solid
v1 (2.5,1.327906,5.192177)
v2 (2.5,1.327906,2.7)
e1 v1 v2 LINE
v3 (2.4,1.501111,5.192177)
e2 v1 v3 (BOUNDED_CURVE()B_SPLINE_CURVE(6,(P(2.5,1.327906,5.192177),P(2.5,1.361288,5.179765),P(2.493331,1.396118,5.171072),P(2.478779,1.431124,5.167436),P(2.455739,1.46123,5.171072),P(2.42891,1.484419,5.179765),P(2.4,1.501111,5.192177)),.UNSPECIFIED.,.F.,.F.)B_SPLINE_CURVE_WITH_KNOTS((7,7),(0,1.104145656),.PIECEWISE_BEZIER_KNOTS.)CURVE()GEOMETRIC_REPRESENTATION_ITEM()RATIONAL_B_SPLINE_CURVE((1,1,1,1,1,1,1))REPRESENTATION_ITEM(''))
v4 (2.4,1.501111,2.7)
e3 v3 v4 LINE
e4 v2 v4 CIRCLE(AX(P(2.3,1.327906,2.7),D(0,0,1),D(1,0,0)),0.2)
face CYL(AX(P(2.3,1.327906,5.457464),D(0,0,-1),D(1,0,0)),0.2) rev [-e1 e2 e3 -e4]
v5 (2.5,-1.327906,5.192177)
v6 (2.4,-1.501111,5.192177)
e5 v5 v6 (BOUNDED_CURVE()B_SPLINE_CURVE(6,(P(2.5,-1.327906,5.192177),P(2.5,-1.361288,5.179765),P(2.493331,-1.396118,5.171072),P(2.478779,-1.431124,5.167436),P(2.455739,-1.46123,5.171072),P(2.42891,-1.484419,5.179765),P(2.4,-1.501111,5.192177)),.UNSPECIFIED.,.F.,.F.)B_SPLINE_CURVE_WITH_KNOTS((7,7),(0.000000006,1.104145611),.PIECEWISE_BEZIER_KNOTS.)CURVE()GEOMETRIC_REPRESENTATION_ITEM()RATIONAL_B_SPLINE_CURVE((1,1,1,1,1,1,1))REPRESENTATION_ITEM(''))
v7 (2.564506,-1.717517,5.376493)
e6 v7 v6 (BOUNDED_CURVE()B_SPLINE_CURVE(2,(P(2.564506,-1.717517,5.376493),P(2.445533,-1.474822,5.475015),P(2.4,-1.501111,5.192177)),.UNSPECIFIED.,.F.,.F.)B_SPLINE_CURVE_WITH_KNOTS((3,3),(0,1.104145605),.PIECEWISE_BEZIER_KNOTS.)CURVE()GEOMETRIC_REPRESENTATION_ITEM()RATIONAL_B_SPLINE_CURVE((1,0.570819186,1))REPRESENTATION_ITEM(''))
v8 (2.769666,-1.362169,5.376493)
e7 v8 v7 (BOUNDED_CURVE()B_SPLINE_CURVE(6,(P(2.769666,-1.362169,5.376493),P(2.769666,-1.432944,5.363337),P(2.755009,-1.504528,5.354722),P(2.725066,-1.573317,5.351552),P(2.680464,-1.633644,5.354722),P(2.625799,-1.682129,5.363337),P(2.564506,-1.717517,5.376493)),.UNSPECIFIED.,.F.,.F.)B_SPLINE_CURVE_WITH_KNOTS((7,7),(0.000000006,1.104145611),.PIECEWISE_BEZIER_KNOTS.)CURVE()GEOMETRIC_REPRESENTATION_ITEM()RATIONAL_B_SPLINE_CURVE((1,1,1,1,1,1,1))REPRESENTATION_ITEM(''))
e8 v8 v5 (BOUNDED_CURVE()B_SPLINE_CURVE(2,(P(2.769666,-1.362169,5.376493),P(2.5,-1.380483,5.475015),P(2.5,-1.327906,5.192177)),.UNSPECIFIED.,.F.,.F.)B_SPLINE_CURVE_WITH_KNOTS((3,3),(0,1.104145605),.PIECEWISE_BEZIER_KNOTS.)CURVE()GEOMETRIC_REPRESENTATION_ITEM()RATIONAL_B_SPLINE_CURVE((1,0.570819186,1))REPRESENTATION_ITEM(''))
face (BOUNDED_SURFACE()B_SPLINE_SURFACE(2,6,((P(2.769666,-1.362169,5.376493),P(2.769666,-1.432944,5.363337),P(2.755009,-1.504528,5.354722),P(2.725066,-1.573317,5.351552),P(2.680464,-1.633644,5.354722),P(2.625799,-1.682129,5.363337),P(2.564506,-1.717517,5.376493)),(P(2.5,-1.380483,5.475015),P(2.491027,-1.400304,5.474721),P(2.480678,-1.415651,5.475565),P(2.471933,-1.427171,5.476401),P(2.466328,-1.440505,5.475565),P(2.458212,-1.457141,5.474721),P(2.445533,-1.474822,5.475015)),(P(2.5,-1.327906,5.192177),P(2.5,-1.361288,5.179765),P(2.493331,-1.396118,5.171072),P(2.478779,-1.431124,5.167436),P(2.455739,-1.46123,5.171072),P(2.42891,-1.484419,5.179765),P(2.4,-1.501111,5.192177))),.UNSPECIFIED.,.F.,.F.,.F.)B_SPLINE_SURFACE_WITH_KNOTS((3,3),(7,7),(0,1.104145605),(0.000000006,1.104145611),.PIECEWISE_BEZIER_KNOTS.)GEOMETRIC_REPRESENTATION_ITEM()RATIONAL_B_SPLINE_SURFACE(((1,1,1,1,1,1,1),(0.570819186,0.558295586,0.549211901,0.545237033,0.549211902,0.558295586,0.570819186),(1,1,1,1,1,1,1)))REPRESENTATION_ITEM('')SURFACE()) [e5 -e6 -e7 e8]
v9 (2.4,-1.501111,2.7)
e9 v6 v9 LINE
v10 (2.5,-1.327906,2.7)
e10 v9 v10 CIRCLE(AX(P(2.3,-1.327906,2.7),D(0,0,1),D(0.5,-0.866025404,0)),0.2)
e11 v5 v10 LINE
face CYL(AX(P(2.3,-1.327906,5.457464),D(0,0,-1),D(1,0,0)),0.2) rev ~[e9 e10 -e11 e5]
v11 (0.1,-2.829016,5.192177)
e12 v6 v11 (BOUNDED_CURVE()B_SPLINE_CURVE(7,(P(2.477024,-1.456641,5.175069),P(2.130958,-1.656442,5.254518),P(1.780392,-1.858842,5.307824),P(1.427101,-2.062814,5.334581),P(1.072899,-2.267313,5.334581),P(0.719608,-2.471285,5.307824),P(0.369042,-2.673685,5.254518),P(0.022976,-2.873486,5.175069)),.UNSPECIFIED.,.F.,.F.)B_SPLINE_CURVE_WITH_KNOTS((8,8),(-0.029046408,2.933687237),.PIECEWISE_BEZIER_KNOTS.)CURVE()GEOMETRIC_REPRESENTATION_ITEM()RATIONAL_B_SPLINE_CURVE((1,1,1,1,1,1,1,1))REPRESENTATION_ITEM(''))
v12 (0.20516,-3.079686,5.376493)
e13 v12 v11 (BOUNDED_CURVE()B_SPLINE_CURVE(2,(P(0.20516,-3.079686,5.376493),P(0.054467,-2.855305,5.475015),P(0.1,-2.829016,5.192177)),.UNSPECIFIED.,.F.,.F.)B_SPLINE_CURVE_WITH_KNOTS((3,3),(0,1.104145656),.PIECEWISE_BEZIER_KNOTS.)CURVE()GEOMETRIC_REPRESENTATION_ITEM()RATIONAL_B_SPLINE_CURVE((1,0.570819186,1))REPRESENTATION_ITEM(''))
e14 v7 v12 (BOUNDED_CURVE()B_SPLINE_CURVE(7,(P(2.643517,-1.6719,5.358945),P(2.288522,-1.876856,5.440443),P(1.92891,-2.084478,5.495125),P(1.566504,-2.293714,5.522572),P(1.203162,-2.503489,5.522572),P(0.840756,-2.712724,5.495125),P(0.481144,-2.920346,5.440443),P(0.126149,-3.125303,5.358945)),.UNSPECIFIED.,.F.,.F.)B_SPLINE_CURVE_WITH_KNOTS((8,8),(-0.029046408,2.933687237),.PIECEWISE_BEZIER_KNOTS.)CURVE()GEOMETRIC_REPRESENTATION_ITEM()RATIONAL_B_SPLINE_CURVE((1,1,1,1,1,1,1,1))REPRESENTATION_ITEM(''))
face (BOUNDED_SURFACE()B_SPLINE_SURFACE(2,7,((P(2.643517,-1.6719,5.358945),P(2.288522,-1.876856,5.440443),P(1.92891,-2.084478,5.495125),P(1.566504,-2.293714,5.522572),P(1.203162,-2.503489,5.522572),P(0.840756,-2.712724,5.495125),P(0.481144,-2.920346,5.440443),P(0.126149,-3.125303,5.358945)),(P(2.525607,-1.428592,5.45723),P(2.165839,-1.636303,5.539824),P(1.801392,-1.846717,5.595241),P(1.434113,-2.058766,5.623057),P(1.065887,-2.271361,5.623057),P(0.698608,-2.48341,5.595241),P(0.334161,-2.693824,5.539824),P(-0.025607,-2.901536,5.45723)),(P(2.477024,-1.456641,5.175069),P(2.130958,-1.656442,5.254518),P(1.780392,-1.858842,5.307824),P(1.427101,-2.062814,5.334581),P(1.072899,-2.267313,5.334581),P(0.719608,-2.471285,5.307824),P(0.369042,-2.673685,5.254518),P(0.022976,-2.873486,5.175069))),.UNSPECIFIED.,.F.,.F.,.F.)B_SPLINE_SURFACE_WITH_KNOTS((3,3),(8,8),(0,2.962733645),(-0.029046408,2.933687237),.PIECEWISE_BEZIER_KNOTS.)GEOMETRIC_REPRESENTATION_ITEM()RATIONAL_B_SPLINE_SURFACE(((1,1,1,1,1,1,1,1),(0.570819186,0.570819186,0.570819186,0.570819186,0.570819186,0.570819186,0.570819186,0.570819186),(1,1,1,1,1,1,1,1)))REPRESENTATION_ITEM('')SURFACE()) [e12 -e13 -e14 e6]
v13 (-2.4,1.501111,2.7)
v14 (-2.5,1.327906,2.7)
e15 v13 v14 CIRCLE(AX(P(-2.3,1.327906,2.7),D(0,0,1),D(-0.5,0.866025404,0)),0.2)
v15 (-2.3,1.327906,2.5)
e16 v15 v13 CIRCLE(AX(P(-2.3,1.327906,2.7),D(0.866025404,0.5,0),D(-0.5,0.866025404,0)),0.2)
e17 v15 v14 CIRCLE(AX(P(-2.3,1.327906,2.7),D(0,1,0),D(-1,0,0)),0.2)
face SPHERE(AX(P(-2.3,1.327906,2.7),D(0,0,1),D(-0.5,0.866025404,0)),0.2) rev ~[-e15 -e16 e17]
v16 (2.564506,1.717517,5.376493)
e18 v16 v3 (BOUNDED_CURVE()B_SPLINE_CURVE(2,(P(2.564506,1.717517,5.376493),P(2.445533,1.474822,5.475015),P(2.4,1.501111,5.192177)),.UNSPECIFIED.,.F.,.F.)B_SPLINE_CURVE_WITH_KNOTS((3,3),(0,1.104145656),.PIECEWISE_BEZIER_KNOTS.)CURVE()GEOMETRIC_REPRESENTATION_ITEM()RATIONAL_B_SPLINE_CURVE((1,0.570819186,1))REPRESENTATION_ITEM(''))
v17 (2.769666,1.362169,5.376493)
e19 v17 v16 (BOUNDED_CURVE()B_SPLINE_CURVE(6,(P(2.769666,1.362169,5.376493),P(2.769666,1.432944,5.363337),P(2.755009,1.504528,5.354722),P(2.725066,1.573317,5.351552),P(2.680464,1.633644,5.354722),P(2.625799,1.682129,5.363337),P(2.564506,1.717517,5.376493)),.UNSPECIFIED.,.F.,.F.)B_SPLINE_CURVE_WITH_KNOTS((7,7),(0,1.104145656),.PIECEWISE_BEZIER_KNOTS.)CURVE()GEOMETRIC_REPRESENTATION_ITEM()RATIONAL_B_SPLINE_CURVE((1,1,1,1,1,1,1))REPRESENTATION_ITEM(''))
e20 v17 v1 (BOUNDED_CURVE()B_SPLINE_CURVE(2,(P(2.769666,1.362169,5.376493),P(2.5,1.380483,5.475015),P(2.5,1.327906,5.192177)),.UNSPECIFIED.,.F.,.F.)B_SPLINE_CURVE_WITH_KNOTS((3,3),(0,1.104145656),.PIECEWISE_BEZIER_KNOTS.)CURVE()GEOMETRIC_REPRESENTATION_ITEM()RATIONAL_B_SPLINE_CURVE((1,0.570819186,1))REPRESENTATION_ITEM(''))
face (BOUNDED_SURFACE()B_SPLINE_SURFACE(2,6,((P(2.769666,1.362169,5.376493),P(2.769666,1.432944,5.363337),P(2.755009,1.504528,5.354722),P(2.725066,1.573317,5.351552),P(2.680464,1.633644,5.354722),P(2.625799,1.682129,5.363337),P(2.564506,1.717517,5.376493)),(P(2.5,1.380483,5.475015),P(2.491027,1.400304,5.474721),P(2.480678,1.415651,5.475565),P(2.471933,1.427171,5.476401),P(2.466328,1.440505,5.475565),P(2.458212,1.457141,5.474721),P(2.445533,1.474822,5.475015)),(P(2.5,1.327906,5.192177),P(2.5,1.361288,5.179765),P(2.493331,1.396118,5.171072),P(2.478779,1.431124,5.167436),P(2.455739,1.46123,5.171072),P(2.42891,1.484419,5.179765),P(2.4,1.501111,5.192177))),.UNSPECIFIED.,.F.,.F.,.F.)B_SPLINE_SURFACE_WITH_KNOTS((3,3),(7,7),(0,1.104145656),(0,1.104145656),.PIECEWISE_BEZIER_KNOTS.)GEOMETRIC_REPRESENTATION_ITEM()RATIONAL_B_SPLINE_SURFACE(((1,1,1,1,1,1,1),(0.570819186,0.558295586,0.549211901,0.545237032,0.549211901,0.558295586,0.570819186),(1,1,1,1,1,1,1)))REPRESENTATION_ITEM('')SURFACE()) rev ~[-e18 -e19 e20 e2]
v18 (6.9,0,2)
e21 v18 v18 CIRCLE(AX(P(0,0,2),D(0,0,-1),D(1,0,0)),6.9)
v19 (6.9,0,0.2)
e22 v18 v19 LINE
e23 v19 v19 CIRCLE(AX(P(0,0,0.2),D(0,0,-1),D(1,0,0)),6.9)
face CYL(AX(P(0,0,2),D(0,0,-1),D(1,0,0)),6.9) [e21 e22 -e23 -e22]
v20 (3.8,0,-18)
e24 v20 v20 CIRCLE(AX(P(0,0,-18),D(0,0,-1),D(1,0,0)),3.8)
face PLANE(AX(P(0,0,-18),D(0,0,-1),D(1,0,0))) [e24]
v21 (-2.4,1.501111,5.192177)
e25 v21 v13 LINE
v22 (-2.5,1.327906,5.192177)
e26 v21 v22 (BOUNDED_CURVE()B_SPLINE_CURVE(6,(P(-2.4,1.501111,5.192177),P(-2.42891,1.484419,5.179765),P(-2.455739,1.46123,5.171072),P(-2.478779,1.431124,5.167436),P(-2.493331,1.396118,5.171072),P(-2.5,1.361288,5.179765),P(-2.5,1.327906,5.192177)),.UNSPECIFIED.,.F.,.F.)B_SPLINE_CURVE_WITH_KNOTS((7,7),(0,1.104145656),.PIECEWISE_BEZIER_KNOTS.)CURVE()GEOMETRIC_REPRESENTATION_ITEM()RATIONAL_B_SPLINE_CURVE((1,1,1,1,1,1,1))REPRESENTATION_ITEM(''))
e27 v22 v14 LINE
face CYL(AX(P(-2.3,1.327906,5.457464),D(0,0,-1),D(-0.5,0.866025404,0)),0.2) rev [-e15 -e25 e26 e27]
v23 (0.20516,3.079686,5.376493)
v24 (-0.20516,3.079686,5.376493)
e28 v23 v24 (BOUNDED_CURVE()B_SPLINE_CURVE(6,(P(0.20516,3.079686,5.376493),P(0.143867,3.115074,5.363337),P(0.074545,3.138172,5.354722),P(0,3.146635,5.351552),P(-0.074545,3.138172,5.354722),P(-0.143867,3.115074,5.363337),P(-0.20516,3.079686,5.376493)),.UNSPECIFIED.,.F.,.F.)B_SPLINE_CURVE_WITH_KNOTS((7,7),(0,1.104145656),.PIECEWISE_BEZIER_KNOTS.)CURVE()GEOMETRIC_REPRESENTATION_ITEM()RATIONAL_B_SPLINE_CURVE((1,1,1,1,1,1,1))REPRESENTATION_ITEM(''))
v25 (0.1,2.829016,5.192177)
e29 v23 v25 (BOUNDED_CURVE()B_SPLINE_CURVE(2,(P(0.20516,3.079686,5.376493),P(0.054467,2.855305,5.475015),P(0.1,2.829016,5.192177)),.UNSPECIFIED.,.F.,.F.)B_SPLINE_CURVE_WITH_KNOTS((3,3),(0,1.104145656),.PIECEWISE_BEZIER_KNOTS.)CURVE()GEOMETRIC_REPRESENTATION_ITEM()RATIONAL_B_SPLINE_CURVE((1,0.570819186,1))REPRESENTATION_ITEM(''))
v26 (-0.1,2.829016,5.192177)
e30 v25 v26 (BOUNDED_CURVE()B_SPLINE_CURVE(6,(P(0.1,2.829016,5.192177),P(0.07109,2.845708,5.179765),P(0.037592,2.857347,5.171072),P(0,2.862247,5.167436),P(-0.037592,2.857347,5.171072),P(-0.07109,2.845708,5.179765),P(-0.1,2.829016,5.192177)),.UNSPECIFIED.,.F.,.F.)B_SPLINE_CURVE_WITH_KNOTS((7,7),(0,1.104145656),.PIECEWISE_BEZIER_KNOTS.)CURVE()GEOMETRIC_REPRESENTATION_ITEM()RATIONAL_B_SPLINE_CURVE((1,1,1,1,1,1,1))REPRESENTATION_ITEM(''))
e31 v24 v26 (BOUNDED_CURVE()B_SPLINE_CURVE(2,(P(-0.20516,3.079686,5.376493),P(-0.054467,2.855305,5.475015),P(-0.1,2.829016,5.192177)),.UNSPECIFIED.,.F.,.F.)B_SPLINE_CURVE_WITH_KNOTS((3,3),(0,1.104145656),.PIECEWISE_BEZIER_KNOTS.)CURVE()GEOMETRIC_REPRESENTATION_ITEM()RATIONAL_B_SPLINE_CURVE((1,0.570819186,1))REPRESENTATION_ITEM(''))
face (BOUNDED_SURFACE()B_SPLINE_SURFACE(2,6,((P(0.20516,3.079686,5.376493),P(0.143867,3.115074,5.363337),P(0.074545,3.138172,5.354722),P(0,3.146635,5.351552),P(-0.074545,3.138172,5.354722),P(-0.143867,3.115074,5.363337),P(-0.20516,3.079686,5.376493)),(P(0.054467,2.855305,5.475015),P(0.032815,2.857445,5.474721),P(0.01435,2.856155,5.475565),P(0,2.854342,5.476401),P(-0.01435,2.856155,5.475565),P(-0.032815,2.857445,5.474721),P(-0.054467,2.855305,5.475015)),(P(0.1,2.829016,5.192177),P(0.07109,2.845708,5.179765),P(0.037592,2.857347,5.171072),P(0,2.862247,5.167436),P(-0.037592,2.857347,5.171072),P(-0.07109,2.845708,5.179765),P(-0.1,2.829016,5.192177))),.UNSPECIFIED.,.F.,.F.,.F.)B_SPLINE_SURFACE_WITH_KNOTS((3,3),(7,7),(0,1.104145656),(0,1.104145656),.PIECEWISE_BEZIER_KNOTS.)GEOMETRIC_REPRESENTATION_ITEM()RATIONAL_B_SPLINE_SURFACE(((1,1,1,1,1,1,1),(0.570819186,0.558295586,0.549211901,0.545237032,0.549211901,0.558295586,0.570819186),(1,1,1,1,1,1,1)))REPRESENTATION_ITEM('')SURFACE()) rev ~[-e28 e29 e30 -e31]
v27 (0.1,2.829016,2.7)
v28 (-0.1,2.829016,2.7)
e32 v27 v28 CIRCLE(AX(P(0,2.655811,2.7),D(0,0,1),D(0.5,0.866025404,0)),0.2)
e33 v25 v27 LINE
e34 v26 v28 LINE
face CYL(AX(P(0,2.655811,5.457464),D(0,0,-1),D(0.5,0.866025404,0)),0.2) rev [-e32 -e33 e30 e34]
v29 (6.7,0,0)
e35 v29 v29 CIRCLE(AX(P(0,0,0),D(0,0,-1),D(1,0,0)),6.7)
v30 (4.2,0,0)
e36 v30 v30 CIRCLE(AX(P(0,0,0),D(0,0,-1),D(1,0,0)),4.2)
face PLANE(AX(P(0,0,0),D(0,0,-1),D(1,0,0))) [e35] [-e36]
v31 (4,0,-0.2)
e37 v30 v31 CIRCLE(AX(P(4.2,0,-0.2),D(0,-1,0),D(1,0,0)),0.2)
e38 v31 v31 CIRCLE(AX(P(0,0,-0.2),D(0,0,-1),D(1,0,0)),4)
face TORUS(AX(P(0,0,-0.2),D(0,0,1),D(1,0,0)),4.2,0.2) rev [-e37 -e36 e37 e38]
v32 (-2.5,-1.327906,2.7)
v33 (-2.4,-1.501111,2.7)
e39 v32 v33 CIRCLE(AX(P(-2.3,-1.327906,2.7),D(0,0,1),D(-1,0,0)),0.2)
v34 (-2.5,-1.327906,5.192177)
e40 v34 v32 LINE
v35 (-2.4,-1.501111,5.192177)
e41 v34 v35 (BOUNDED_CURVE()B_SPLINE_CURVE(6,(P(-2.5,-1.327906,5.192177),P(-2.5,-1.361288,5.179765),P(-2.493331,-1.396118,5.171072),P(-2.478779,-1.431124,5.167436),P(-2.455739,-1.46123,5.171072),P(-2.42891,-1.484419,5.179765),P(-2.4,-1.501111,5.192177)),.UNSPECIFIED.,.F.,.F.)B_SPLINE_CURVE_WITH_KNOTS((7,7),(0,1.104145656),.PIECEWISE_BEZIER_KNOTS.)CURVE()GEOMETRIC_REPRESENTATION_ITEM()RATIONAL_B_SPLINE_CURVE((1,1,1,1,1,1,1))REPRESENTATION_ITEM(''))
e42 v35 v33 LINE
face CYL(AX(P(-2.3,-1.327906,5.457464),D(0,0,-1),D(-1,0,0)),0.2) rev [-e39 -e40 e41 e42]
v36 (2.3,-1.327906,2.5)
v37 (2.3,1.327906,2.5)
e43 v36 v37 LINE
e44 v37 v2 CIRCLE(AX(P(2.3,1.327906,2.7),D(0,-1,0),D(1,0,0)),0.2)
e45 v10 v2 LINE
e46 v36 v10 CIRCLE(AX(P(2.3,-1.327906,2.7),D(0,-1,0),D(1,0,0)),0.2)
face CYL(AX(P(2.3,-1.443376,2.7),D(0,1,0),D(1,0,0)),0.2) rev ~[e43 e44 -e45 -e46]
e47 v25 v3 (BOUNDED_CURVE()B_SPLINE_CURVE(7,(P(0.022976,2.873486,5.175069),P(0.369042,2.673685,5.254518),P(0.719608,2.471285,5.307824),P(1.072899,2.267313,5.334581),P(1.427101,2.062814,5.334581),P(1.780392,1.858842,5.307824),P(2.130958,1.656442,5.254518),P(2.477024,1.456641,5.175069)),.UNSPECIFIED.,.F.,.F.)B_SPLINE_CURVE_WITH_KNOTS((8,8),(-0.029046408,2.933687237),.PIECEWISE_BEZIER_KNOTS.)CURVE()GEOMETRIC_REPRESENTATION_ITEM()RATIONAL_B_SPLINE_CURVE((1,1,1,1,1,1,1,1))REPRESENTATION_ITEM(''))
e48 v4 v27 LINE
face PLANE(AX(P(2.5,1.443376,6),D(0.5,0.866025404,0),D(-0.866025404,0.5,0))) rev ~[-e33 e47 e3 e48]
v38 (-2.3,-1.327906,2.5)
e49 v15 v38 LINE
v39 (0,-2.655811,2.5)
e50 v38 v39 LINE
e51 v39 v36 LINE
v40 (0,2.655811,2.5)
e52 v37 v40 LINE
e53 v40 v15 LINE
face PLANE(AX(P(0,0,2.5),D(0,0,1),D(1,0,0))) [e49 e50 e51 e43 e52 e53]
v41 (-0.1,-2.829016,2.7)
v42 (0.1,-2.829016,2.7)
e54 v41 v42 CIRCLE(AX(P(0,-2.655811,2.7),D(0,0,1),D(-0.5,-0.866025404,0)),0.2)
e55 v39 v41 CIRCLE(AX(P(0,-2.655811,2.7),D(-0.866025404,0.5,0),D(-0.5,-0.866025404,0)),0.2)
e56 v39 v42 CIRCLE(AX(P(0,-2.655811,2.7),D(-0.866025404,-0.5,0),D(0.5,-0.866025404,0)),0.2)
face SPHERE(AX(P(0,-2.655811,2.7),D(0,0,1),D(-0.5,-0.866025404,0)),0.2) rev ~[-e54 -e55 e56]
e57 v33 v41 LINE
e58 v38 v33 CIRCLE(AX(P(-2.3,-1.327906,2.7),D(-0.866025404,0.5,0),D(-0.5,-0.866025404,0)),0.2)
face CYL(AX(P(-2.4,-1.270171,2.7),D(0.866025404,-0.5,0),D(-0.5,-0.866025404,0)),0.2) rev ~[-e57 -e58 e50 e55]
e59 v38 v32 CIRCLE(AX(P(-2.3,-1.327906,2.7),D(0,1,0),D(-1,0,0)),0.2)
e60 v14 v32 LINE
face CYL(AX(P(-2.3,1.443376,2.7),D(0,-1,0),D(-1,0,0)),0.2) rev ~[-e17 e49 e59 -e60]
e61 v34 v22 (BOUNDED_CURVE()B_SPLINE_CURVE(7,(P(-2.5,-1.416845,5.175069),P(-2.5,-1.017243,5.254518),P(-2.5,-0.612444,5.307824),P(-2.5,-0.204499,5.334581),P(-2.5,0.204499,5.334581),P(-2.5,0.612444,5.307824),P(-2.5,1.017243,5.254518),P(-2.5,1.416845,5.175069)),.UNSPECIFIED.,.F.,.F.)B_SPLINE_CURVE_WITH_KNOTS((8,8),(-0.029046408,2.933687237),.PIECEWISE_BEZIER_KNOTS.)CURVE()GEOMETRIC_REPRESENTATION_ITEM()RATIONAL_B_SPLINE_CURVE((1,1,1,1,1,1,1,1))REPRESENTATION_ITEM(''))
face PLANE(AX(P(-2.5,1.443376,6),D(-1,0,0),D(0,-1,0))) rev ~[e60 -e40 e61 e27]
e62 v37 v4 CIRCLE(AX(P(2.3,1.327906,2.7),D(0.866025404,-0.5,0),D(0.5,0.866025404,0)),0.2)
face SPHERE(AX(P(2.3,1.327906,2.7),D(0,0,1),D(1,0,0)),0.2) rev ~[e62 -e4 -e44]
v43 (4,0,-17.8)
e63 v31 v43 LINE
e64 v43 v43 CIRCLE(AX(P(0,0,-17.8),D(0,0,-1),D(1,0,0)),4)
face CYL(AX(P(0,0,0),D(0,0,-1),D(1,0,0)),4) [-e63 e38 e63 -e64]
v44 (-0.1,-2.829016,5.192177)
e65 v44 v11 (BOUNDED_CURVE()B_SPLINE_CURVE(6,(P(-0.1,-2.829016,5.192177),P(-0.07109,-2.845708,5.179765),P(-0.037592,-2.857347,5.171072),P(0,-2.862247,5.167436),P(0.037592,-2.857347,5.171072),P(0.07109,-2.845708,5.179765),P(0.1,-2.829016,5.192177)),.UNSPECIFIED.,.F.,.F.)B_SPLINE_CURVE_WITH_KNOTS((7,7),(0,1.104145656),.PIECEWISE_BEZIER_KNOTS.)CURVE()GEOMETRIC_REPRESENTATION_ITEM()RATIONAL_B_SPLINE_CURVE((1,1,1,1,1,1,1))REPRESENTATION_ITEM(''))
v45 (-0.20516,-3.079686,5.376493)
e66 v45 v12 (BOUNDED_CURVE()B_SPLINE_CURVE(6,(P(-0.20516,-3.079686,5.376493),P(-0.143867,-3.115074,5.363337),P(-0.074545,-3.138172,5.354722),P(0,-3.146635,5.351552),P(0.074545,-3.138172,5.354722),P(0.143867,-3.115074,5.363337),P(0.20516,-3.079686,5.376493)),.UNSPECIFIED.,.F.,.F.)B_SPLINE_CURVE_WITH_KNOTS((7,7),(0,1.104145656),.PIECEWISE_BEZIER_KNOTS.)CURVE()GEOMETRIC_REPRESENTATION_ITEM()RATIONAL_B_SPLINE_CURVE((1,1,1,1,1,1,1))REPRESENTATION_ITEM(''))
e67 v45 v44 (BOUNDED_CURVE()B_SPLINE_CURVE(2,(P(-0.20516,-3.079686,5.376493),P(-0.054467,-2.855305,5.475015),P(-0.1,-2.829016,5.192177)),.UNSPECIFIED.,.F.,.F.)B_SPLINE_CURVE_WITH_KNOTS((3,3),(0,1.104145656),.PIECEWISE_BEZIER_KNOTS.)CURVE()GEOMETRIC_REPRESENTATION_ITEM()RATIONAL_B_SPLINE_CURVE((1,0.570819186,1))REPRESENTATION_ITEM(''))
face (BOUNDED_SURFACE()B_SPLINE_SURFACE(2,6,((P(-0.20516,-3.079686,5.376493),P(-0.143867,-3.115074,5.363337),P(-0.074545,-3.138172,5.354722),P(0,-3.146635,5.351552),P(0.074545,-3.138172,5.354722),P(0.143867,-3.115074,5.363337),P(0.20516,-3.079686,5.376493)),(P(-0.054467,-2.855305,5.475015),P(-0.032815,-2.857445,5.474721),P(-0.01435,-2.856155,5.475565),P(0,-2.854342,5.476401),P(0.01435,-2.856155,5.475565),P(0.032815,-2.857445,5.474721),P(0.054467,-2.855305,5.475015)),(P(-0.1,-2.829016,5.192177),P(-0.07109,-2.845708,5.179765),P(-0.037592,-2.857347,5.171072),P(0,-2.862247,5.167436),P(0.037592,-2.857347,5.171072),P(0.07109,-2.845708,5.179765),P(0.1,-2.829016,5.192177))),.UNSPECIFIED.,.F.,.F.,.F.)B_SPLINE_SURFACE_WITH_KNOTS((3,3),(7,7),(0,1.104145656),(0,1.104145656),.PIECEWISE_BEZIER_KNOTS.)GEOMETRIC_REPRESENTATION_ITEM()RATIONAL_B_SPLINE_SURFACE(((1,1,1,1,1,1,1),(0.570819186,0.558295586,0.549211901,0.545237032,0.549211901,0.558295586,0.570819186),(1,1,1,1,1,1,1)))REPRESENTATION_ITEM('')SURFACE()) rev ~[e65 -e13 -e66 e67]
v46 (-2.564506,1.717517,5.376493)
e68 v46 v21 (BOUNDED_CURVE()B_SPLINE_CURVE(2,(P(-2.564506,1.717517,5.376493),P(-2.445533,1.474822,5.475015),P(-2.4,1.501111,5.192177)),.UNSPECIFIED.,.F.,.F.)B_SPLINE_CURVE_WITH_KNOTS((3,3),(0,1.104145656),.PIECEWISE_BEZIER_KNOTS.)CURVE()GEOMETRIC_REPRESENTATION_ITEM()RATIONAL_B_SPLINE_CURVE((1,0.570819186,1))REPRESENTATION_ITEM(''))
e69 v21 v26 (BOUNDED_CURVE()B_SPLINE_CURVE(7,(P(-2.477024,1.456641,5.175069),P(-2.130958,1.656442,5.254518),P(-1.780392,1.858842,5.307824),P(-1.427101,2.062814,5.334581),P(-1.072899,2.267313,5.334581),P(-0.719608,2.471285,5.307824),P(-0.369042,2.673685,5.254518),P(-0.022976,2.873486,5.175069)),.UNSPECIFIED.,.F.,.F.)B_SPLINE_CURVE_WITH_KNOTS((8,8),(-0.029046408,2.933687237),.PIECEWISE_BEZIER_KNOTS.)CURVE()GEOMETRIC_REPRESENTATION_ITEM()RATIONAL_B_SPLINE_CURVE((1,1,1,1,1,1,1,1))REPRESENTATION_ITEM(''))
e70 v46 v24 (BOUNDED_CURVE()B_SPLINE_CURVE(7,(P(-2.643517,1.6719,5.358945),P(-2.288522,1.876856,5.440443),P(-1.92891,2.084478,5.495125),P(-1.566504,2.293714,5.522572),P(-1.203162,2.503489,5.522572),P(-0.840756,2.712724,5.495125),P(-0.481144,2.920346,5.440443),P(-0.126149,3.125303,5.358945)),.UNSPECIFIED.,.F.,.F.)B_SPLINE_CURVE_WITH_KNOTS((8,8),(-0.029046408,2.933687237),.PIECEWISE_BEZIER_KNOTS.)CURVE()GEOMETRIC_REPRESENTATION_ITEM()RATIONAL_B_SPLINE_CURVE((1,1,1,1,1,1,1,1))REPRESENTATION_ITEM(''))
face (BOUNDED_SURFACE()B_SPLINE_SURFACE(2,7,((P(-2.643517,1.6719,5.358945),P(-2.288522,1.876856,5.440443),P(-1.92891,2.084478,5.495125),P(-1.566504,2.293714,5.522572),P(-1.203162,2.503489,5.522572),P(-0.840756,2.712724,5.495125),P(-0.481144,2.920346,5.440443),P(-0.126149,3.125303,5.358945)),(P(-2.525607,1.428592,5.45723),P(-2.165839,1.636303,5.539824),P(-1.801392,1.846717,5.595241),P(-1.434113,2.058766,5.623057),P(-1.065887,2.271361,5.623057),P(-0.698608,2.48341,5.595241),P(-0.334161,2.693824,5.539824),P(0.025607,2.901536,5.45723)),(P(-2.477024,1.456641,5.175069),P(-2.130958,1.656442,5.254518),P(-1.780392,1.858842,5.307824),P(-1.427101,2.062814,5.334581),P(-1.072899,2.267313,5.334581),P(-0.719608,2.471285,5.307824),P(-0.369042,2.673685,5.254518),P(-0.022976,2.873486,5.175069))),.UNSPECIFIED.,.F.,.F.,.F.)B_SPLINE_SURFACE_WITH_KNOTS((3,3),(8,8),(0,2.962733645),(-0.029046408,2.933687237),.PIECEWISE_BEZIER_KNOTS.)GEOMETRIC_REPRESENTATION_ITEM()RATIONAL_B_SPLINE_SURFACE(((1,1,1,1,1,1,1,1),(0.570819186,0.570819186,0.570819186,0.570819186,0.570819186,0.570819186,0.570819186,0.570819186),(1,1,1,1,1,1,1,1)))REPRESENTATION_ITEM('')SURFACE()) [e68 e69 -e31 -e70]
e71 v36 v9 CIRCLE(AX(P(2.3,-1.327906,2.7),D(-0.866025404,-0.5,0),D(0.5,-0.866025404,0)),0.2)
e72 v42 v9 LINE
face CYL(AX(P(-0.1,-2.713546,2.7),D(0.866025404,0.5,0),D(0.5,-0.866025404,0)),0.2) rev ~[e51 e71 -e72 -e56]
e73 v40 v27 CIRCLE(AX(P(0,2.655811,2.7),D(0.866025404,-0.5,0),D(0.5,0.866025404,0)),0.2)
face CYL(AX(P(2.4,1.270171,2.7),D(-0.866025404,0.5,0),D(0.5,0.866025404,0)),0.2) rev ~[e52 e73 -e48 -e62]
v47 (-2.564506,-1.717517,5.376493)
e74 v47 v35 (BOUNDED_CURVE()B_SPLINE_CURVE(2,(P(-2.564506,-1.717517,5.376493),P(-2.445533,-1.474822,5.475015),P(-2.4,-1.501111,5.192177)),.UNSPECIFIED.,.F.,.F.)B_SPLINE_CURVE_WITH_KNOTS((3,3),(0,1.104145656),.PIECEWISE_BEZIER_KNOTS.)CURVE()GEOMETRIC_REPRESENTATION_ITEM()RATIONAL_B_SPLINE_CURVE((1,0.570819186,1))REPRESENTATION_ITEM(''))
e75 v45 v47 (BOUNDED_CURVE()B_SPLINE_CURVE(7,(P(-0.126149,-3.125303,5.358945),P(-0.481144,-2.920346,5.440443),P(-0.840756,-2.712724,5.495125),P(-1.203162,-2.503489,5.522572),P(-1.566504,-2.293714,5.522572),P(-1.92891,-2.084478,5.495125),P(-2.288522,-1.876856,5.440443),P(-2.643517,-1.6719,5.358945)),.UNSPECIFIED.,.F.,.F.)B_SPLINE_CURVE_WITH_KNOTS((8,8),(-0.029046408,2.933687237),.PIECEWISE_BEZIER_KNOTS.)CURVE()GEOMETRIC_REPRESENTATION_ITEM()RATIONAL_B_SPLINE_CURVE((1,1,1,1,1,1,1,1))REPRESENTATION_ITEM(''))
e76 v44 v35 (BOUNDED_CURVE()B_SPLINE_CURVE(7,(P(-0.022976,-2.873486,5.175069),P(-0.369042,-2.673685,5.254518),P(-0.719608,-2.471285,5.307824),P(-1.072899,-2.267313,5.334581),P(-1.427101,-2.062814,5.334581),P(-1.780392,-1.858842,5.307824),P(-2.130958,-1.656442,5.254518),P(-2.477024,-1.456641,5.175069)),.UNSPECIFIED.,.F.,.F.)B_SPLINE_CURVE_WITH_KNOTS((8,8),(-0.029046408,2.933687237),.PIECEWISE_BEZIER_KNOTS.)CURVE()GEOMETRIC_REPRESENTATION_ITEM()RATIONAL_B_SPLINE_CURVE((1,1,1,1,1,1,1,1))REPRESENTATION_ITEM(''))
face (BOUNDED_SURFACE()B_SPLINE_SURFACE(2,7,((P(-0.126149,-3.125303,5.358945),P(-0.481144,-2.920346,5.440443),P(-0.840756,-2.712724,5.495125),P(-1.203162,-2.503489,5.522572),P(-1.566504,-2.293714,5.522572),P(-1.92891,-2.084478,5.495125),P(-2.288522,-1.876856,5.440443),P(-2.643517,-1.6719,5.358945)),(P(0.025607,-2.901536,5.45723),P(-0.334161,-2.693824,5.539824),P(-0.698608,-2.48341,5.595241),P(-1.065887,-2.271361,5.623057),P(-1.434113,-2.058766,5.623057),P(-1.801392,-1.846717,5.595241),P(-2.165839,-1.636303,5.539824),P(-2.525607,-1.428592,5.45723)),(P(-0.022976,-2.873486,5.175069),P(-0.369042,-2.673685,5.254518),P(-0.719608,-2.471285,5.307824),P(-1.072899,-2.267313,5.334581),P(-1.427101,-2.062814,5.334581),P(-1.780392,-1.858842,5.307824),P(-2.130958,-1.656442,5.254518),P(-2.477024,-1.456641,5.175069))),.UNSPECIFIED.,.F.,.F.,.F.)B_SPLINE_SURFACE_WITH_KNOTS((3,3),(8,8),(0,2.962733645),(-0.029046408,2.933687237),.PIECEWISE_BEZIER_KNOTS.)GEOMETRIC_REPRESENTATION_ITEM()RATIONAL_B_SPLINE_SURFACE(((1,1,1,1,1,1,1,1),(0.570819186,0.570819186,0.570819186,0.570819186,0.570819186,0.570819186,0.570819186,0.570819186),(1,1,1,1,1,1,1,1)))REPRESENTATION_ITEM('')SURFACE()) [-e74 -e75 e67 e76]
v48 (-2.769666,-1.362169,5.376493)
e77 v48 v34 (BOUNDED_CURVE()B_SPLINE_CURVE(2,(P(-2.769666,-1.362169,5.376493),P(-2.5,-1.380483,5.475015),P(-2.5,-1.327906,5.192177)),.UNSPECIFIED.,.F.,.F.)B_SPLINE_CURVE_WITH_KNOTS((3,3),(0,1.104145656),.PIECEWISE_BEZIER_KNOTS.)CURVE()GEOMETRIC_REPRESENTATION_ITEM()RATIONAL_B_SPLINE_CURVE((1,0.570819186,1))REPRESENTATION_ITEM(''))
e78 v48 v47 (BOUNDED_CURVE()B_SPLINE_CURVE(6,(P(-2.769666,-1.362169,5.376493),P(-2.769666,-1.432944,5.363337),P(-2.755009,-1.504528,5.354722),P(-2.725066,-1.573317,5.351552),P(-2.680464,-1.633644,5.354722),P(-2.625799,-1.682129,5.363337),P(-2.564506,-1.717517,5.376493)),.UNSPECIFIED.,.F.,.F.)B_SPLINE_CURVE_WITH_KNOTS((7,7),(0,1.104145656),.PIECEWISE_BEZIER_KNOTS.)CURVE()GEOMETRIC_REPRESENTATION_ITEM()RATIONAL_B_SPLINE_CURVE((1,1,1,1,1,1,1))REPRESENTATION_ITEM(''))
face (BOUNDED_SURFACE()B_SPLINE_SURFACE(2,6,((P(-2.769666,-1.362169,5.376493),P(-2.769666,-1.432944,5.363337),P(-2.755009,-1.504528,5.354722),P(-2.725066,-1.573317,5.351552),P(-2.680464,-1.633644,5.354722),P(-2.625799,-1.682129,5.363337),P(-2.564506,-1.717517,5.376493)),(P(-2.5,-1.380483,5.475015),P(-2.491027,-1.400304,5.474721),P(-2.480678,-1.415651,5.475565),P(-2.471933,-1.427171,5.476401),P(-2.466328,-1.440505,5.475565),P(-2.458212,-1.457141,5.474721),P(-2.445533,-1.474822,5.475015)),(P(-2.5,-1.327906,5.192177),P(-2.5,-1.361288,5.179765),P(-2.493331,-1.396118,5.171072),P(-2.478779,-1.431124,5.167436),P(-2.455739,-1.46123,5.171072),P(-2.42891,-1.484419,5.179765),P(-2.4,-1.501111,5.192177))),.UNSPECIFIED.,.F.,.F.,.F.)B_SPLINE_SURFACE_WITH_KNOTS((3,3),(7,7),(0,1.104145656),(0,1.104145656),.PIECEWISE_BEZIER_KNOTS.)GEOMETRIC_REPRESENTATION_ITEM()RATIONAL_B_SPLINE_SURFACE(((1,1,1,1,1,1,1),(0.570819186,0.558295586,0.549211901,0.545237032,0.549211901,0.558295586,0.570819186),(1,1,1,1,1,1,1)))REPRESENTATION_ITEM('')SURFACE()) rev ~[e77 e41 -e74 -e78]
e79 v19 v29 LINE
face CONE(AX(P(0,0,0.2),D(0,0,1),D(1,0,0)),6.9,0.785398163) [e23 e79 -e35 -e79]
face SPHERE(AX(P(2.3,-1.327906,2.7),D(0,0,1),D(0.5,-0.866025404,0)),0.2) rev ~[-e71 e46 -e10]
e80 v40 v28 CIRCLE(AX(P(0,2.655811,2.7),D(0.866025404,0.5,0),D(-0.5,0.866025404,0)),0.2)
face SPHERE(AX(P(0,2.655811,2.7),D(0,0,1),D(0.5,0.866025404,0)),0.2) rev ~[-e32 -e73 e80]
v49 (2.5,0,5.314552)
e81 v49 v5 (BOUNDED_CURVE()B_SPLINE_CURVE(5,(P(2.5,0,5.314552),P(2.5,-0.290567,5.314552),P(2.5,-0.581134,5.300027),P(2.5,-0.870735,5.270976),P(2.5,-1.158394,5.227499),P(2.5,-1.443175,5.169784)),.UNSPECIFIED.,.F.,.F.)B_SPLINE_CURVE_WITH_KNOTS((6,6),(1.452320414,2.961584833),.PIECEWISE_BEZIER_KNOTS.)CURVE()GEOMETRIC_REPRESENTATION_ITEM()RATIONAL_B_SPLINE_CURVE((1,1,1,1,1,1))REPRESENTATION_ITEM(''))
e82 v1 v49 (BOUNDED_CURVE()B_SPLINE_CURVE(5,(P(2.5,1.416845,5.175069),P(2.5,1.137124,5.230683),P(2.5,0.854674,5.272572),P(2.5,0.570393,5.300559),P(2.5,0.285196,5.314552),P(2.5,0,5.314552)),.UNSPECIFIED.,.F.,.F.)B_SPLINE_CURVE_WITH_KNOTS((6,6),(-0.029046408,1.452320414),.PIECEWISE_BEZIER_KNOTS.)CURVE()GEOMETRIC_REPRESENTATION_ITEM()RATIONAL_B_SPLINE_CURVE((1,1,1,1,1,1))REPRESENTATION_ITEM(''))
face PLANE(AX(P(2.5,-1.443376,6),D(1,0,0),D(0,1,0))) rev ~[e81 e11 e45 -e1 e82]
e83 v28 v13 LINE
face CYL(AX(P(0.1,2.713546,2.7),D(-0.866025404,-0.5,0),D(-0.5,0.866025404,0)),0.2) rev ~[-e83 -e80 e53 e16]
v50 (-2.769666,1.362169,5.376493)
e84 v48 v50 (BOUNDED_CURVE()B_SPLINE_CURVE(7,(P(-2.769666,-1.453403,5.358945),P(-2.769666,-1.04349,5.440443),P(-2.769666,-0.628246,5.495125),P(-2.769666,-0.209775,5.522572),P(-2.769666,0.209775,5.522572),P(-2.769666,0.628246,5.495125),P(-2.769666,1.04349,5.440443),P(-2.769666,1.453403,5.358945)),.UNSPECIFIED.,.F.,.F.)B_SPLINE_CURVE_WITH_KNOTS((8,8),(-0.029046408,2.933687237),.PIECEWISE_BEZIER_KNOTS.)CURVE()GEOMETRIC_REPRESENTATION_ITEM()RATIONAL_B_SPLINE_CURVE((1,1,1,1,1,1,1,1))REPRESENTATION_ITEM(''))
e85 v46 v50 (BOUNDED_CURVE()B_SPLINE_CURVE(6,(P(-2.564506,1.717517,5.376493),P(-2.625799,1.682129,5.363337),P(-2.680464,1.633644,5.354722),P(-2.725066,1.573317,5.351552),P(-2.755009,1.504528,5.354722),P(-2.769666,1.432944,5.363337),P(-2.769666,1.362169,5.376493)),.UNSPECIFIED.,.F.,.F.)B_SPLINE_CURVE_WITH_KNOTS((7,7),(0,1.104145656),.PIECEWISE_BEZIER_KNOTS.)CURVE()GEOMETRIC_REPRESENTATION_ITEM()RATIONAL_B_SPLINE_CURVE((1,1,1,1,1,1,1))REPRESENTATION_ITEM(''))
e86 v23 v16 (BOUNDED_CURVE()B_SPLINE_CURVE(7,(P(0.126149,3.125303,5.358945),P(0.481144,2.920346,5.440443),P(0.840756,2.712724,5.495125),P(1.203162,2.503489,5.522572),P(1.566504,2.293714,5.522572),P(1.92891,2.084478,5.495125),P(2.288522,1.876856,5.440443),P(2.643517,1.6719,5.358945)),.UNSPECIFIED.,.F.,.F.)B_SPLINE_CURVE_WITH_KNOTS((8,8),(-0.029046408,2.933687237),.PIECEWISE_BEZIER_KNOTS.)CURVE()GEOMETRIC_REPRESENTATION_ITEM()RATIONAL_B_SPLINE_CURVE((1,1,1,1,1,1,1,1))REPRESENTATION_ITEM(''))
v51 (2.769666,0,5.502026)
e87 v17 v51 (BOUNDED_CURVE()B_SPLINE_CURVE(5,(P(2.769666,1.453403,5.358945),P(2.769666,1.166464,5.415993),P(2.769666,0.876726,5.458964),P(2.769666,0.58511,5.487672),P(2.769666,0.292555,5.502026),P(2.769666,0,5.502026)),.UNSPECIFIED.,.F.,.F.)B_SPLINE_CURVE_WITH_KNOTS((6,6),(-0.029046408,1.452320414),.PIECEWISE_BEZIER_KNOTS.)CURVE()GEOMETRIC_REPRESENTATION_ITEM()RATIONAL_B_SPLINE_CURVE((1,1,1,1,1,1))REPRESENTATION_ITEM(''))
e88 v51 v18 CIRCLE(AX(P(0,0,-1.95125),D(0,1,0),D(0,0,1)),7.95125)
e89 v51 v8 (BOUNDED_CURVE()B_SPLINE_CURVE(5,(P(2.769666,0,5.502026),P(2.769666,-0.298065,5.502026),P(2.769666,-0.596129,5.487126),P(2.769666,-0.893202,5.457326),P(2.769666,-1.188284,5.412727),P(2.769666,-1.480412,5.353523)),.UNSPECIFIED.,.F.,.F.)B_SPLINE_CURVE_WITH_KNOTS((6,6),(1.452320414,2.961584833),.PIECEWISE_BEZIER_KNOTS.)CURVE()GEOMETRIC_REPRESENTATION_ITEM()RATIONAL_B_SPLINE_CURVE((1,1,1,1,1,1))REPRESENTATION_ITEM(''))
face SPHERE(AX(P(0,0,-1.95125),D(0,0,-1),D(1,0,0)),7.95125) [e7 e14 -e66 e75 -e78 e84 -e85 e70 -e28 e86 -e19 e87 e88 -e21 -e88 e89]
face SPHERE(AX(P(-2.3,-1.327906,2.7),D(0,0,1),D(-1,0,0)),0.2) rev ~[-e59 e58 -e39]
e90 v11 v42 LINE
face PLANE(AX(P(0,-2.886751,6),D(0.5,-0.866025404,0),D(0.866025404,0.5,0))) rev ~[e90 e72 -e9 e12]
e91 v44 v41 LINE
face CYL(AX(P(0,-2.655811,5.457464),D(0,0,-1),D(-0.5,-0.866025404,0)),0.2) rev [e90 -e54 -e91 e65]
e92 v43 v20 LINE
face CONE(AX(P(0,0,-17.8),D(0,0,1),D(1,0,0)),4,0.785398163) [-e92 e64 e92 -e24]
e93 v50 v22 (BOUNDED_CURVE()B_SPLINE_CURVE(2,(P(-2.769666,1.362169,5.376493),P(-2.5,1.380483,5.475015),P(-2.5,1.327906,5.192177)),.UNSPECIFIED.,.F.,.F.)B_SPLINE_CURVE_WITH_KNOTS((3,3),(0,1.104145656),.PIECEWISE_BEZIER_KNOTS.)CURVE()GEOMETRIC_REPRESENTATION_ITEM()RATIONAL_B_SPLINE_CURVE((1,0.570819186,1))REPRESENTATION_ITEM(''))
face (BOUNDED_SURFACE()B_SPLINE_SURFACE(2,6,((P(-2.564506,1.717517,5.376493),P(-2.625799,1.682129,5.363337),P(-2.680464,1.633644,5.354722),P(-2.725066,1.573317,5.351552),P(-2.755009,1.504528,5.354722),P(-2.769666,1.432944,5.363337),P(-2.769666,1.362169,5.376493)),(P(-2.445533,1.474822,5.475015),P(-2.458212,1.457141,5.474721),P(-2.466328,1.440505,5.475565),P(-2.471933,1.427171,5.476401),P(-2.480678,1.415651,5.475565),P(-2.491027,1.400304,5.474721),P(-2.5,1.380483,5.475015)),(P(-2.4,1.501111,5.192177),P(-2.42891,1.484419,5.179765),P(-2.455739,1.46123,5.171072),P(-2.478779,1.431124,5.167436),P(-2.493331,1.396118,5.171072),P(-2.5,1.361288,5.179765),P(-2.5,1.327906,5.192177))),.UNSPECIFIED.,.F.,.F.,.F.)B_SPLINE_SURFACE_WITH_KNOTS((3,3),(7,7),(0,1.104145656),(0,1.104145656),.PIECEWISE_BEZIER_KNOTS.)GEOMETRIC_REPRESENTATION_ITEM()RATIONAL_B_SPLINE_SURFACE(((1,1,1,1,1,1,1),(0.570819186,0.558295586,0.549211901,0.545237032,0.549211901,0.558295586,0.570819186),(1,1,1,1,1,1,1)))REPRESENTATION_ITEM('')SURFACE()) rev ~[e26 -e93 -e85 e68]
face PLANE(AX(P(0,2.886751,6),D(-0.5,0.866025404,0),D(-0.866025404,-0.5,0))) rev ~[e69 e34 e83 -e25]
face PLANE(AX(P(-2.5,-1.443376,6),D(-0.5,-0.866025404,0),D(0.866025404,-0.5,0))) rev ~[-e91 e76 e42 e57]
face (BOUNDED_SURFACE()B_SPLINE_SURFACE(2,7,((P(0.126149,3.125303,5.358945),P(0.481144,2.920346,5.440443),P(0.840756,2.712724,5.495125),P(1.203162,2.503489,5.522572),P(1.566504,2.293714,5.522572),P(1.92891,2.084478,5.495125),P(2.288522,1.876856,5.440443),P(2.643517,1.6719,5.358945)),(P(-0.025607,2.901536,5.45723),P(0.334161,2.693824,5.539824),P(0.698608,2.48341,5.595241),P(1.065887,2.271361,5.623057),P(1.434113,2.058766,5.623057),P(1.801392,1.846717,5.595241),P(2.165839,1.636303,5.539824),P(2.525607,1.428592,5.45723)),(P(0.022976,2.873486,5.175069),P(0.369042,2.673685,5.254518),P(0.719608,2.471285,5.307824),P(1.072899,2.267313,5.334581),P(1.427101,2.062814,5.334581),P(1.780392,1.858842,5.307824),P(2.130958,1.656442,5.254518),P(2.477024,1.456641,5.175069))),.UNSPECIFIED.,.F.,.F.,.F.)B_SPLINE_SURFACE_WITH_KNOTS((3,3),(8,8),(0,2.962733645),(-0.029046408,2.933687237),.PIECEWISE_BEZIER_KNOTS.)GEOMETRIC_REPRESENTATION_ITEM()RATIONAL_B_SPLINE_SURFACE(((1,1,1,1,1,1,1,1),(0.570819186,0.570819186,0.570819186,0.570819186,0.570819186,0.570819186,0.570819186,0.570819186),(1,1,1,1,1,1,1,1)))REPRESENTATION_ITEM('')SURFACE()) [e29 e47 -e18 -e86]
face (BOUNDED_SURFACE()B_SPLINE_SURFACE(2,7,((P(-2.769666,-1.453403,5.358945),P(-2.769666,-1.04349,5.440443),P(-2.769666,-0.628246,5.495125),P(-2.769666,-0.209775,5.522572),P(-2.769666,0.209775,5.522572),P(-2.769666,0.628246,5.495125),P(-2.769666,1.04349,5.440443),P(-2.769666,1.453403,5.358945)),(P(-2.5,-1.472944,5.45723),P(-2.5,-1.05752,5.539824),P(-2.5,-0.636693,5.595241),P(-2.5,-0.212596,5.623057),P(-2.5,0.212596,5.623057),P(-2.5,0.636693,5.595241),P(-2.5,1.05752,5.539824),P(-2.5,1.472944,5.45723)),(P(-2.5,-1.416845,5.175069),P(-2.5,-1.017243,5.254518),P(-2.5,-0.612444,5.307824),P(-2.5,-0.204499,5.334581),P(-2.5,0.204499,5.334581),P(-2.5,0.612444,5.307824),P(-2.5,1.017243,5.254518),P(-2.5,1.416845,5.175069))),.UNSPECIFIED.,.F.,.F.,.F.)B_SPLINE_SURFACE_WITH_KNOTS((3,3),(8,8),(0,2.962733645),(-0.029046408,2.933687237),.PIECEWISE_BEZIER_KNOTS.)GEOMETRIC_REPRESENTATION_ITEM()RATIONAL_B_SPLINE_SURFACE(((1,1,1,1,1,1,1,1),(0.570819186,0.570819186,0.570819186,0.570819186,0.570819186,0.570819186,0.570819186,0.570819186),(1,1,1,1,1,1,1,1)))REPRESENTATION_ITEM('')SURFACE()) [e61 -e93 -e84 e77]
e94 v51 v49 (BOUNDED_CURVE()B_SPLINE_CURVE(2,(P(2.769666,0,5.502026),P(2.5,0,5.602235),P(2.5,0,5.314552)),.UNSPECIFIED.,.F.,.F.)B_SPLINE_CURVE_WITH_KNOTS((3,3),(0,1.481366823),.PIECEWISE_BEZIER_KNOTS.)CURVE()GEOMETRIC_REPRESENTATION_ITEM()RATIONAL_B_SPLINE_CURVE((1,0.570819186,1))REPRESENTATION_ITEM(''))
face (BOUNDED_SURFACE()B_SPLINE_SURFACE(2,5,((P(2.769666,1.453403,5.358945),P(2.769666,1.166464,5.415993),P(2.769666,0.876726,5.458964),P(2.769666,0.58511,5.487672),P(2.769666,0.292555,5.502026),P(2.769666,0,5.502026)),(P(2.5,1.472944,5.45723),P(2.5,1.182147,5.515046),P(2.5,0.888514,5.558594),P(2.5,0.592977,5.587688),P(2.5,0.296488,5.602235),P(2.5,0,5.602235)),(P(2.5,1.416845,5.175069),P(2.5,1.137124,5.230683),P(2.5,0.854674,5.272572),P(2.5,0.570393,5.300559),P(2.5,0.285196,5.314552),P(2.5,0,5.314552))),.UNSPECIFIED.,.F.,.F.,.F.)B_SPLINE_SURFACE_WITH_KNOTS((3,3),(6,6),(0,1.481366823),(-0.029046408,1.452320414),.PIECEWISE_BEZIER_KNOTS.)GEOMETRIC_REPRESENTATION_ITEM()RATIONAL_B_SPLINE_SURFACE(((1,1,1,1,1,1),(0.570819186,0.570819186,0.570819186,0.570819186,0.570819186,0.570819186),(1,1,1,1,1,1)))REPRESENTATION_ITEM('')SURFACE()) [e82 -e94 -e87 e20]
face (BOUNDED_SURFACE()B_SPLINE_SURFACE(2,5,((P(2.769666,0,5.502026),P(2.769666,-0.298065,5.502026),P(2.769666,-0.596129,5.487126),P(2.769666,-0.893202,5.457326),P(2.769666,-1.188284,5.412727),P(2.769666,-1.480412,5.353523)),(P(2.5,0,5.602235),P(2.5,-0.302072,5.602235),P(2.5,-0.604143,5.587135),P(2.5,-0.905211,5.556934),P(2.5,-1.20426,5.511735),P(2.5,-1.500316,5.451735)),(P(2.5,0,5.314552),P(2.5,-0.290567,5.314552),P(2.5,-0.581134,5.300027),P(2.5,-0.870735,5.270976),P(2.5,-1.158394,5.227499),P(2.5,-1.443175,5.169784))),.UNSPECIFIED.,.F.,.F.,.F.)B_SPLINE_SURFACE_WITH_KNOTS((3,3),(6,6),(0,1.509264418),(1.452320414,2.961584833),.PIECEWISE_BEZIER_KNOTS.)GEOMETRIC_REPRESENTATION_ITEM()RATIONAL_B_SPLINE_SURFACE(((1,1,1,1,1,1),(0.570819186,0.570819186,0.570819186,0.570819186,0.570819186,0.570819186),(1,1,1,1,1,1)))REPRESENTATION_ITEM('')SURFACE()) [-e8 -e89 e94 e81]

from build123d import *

# Parameters (mm, degrees)
SCHNITT_LINEAR_AUSTRAGEN1_DEPTH = 3.5
FASE1_SIZE                      = 0.2
VERRUNDUNG1_R                   = 0.2


with BuildPart() as part:
    # Skizze1 → Rotation1 (revolve)
    with BuildSketch(Plane(origin=(0, 0, 0), x_dir=(0, 0, -1), z_dir=(1, 0, 0)), mode=Mode.PRIVATE) as rotation1_sk:
        with BuildLine():
            Line((-2, 6.9), (0, 6.9))
            Line((0, 6.9), (0, 4))
            Line((0, 4), (18, 4))
            Line((18, 4), (18, 0))
            Line((18, 0), (-6, 0))
            ThreePointArc((-6, 0), (-4.927694437, 3.987793876), (-2, 6.9))
        make_face()
    revolve(rotation1_sk.sketch.rotate(Axis((0, 0, 21.919879518), (0, 0, -1)), 90), axis=Axis((0, 0, 21.919879518), (0, 0, -1)))

    # Skizze2 → Schnitt-Linear austragen1 (cut)
    with BuildSketch(Plane.XY.offset(6)):
        Polygon((2.5, -1.443375673), (2.5, 1.443375673), (0, 2.886751346), (-2.5, 1.443375673), (-2.5, -1.443375673), (0, -2.886751346), align=None)
    extrude(amount=-SCHNITT_LINEAR_AUSTRAGEN1_DEPTH, mode=Mode.SUBTRACT)

    # Fase1
    fase1_edges = [part.edges().sort_by_distance(p)[0] for p in [
        (-6.9, 0, 0),
        (-4, 0, -18),
    ]]
    chamfer(fase1_edges, length=FASE1_SIZE)

    # Verrundung1
    verrundung1_edges = [part.edges().sort_by_distance(p)[0] for p in [
        (2.5, -0.725040561, 5.561851407),
        (1.25, 2.165063509, 5.596754807),
        (-1.25, 2.165063509, 5.596754807),
        (-2.5, 0, 5.596754807),
        (-1.25, -2.165063509, 5.596754807),
        (1.25, -2.165063509, 5.596754807),
        (2.5, -1.443375673, 3.978732003),
        (1.25, -2.165063509, 2.5),
        (0, -2.886751346, 3.978732003),
        (-1.25, -2.165063509, 2.5),
        (-2.5, -1.443375673, 3.978732003),
        (-2.5, 0, 2.5),
        (-2.5, 1.443375673, 3.978732003),
        (-1.25, 2.165063509, 2.5),
        (0, 2.886751346, 3.978732003),
        (1.25, 2.165063509, 2.5),
        (2.5, 1.443375673, 3.978732003),
        (2.5, 0, 2.5),
        (-4, 0, 0),
    ]]
    fillet(verrundung1_edges, radius=VERRUNDUNG1_R)


solid = part.part
